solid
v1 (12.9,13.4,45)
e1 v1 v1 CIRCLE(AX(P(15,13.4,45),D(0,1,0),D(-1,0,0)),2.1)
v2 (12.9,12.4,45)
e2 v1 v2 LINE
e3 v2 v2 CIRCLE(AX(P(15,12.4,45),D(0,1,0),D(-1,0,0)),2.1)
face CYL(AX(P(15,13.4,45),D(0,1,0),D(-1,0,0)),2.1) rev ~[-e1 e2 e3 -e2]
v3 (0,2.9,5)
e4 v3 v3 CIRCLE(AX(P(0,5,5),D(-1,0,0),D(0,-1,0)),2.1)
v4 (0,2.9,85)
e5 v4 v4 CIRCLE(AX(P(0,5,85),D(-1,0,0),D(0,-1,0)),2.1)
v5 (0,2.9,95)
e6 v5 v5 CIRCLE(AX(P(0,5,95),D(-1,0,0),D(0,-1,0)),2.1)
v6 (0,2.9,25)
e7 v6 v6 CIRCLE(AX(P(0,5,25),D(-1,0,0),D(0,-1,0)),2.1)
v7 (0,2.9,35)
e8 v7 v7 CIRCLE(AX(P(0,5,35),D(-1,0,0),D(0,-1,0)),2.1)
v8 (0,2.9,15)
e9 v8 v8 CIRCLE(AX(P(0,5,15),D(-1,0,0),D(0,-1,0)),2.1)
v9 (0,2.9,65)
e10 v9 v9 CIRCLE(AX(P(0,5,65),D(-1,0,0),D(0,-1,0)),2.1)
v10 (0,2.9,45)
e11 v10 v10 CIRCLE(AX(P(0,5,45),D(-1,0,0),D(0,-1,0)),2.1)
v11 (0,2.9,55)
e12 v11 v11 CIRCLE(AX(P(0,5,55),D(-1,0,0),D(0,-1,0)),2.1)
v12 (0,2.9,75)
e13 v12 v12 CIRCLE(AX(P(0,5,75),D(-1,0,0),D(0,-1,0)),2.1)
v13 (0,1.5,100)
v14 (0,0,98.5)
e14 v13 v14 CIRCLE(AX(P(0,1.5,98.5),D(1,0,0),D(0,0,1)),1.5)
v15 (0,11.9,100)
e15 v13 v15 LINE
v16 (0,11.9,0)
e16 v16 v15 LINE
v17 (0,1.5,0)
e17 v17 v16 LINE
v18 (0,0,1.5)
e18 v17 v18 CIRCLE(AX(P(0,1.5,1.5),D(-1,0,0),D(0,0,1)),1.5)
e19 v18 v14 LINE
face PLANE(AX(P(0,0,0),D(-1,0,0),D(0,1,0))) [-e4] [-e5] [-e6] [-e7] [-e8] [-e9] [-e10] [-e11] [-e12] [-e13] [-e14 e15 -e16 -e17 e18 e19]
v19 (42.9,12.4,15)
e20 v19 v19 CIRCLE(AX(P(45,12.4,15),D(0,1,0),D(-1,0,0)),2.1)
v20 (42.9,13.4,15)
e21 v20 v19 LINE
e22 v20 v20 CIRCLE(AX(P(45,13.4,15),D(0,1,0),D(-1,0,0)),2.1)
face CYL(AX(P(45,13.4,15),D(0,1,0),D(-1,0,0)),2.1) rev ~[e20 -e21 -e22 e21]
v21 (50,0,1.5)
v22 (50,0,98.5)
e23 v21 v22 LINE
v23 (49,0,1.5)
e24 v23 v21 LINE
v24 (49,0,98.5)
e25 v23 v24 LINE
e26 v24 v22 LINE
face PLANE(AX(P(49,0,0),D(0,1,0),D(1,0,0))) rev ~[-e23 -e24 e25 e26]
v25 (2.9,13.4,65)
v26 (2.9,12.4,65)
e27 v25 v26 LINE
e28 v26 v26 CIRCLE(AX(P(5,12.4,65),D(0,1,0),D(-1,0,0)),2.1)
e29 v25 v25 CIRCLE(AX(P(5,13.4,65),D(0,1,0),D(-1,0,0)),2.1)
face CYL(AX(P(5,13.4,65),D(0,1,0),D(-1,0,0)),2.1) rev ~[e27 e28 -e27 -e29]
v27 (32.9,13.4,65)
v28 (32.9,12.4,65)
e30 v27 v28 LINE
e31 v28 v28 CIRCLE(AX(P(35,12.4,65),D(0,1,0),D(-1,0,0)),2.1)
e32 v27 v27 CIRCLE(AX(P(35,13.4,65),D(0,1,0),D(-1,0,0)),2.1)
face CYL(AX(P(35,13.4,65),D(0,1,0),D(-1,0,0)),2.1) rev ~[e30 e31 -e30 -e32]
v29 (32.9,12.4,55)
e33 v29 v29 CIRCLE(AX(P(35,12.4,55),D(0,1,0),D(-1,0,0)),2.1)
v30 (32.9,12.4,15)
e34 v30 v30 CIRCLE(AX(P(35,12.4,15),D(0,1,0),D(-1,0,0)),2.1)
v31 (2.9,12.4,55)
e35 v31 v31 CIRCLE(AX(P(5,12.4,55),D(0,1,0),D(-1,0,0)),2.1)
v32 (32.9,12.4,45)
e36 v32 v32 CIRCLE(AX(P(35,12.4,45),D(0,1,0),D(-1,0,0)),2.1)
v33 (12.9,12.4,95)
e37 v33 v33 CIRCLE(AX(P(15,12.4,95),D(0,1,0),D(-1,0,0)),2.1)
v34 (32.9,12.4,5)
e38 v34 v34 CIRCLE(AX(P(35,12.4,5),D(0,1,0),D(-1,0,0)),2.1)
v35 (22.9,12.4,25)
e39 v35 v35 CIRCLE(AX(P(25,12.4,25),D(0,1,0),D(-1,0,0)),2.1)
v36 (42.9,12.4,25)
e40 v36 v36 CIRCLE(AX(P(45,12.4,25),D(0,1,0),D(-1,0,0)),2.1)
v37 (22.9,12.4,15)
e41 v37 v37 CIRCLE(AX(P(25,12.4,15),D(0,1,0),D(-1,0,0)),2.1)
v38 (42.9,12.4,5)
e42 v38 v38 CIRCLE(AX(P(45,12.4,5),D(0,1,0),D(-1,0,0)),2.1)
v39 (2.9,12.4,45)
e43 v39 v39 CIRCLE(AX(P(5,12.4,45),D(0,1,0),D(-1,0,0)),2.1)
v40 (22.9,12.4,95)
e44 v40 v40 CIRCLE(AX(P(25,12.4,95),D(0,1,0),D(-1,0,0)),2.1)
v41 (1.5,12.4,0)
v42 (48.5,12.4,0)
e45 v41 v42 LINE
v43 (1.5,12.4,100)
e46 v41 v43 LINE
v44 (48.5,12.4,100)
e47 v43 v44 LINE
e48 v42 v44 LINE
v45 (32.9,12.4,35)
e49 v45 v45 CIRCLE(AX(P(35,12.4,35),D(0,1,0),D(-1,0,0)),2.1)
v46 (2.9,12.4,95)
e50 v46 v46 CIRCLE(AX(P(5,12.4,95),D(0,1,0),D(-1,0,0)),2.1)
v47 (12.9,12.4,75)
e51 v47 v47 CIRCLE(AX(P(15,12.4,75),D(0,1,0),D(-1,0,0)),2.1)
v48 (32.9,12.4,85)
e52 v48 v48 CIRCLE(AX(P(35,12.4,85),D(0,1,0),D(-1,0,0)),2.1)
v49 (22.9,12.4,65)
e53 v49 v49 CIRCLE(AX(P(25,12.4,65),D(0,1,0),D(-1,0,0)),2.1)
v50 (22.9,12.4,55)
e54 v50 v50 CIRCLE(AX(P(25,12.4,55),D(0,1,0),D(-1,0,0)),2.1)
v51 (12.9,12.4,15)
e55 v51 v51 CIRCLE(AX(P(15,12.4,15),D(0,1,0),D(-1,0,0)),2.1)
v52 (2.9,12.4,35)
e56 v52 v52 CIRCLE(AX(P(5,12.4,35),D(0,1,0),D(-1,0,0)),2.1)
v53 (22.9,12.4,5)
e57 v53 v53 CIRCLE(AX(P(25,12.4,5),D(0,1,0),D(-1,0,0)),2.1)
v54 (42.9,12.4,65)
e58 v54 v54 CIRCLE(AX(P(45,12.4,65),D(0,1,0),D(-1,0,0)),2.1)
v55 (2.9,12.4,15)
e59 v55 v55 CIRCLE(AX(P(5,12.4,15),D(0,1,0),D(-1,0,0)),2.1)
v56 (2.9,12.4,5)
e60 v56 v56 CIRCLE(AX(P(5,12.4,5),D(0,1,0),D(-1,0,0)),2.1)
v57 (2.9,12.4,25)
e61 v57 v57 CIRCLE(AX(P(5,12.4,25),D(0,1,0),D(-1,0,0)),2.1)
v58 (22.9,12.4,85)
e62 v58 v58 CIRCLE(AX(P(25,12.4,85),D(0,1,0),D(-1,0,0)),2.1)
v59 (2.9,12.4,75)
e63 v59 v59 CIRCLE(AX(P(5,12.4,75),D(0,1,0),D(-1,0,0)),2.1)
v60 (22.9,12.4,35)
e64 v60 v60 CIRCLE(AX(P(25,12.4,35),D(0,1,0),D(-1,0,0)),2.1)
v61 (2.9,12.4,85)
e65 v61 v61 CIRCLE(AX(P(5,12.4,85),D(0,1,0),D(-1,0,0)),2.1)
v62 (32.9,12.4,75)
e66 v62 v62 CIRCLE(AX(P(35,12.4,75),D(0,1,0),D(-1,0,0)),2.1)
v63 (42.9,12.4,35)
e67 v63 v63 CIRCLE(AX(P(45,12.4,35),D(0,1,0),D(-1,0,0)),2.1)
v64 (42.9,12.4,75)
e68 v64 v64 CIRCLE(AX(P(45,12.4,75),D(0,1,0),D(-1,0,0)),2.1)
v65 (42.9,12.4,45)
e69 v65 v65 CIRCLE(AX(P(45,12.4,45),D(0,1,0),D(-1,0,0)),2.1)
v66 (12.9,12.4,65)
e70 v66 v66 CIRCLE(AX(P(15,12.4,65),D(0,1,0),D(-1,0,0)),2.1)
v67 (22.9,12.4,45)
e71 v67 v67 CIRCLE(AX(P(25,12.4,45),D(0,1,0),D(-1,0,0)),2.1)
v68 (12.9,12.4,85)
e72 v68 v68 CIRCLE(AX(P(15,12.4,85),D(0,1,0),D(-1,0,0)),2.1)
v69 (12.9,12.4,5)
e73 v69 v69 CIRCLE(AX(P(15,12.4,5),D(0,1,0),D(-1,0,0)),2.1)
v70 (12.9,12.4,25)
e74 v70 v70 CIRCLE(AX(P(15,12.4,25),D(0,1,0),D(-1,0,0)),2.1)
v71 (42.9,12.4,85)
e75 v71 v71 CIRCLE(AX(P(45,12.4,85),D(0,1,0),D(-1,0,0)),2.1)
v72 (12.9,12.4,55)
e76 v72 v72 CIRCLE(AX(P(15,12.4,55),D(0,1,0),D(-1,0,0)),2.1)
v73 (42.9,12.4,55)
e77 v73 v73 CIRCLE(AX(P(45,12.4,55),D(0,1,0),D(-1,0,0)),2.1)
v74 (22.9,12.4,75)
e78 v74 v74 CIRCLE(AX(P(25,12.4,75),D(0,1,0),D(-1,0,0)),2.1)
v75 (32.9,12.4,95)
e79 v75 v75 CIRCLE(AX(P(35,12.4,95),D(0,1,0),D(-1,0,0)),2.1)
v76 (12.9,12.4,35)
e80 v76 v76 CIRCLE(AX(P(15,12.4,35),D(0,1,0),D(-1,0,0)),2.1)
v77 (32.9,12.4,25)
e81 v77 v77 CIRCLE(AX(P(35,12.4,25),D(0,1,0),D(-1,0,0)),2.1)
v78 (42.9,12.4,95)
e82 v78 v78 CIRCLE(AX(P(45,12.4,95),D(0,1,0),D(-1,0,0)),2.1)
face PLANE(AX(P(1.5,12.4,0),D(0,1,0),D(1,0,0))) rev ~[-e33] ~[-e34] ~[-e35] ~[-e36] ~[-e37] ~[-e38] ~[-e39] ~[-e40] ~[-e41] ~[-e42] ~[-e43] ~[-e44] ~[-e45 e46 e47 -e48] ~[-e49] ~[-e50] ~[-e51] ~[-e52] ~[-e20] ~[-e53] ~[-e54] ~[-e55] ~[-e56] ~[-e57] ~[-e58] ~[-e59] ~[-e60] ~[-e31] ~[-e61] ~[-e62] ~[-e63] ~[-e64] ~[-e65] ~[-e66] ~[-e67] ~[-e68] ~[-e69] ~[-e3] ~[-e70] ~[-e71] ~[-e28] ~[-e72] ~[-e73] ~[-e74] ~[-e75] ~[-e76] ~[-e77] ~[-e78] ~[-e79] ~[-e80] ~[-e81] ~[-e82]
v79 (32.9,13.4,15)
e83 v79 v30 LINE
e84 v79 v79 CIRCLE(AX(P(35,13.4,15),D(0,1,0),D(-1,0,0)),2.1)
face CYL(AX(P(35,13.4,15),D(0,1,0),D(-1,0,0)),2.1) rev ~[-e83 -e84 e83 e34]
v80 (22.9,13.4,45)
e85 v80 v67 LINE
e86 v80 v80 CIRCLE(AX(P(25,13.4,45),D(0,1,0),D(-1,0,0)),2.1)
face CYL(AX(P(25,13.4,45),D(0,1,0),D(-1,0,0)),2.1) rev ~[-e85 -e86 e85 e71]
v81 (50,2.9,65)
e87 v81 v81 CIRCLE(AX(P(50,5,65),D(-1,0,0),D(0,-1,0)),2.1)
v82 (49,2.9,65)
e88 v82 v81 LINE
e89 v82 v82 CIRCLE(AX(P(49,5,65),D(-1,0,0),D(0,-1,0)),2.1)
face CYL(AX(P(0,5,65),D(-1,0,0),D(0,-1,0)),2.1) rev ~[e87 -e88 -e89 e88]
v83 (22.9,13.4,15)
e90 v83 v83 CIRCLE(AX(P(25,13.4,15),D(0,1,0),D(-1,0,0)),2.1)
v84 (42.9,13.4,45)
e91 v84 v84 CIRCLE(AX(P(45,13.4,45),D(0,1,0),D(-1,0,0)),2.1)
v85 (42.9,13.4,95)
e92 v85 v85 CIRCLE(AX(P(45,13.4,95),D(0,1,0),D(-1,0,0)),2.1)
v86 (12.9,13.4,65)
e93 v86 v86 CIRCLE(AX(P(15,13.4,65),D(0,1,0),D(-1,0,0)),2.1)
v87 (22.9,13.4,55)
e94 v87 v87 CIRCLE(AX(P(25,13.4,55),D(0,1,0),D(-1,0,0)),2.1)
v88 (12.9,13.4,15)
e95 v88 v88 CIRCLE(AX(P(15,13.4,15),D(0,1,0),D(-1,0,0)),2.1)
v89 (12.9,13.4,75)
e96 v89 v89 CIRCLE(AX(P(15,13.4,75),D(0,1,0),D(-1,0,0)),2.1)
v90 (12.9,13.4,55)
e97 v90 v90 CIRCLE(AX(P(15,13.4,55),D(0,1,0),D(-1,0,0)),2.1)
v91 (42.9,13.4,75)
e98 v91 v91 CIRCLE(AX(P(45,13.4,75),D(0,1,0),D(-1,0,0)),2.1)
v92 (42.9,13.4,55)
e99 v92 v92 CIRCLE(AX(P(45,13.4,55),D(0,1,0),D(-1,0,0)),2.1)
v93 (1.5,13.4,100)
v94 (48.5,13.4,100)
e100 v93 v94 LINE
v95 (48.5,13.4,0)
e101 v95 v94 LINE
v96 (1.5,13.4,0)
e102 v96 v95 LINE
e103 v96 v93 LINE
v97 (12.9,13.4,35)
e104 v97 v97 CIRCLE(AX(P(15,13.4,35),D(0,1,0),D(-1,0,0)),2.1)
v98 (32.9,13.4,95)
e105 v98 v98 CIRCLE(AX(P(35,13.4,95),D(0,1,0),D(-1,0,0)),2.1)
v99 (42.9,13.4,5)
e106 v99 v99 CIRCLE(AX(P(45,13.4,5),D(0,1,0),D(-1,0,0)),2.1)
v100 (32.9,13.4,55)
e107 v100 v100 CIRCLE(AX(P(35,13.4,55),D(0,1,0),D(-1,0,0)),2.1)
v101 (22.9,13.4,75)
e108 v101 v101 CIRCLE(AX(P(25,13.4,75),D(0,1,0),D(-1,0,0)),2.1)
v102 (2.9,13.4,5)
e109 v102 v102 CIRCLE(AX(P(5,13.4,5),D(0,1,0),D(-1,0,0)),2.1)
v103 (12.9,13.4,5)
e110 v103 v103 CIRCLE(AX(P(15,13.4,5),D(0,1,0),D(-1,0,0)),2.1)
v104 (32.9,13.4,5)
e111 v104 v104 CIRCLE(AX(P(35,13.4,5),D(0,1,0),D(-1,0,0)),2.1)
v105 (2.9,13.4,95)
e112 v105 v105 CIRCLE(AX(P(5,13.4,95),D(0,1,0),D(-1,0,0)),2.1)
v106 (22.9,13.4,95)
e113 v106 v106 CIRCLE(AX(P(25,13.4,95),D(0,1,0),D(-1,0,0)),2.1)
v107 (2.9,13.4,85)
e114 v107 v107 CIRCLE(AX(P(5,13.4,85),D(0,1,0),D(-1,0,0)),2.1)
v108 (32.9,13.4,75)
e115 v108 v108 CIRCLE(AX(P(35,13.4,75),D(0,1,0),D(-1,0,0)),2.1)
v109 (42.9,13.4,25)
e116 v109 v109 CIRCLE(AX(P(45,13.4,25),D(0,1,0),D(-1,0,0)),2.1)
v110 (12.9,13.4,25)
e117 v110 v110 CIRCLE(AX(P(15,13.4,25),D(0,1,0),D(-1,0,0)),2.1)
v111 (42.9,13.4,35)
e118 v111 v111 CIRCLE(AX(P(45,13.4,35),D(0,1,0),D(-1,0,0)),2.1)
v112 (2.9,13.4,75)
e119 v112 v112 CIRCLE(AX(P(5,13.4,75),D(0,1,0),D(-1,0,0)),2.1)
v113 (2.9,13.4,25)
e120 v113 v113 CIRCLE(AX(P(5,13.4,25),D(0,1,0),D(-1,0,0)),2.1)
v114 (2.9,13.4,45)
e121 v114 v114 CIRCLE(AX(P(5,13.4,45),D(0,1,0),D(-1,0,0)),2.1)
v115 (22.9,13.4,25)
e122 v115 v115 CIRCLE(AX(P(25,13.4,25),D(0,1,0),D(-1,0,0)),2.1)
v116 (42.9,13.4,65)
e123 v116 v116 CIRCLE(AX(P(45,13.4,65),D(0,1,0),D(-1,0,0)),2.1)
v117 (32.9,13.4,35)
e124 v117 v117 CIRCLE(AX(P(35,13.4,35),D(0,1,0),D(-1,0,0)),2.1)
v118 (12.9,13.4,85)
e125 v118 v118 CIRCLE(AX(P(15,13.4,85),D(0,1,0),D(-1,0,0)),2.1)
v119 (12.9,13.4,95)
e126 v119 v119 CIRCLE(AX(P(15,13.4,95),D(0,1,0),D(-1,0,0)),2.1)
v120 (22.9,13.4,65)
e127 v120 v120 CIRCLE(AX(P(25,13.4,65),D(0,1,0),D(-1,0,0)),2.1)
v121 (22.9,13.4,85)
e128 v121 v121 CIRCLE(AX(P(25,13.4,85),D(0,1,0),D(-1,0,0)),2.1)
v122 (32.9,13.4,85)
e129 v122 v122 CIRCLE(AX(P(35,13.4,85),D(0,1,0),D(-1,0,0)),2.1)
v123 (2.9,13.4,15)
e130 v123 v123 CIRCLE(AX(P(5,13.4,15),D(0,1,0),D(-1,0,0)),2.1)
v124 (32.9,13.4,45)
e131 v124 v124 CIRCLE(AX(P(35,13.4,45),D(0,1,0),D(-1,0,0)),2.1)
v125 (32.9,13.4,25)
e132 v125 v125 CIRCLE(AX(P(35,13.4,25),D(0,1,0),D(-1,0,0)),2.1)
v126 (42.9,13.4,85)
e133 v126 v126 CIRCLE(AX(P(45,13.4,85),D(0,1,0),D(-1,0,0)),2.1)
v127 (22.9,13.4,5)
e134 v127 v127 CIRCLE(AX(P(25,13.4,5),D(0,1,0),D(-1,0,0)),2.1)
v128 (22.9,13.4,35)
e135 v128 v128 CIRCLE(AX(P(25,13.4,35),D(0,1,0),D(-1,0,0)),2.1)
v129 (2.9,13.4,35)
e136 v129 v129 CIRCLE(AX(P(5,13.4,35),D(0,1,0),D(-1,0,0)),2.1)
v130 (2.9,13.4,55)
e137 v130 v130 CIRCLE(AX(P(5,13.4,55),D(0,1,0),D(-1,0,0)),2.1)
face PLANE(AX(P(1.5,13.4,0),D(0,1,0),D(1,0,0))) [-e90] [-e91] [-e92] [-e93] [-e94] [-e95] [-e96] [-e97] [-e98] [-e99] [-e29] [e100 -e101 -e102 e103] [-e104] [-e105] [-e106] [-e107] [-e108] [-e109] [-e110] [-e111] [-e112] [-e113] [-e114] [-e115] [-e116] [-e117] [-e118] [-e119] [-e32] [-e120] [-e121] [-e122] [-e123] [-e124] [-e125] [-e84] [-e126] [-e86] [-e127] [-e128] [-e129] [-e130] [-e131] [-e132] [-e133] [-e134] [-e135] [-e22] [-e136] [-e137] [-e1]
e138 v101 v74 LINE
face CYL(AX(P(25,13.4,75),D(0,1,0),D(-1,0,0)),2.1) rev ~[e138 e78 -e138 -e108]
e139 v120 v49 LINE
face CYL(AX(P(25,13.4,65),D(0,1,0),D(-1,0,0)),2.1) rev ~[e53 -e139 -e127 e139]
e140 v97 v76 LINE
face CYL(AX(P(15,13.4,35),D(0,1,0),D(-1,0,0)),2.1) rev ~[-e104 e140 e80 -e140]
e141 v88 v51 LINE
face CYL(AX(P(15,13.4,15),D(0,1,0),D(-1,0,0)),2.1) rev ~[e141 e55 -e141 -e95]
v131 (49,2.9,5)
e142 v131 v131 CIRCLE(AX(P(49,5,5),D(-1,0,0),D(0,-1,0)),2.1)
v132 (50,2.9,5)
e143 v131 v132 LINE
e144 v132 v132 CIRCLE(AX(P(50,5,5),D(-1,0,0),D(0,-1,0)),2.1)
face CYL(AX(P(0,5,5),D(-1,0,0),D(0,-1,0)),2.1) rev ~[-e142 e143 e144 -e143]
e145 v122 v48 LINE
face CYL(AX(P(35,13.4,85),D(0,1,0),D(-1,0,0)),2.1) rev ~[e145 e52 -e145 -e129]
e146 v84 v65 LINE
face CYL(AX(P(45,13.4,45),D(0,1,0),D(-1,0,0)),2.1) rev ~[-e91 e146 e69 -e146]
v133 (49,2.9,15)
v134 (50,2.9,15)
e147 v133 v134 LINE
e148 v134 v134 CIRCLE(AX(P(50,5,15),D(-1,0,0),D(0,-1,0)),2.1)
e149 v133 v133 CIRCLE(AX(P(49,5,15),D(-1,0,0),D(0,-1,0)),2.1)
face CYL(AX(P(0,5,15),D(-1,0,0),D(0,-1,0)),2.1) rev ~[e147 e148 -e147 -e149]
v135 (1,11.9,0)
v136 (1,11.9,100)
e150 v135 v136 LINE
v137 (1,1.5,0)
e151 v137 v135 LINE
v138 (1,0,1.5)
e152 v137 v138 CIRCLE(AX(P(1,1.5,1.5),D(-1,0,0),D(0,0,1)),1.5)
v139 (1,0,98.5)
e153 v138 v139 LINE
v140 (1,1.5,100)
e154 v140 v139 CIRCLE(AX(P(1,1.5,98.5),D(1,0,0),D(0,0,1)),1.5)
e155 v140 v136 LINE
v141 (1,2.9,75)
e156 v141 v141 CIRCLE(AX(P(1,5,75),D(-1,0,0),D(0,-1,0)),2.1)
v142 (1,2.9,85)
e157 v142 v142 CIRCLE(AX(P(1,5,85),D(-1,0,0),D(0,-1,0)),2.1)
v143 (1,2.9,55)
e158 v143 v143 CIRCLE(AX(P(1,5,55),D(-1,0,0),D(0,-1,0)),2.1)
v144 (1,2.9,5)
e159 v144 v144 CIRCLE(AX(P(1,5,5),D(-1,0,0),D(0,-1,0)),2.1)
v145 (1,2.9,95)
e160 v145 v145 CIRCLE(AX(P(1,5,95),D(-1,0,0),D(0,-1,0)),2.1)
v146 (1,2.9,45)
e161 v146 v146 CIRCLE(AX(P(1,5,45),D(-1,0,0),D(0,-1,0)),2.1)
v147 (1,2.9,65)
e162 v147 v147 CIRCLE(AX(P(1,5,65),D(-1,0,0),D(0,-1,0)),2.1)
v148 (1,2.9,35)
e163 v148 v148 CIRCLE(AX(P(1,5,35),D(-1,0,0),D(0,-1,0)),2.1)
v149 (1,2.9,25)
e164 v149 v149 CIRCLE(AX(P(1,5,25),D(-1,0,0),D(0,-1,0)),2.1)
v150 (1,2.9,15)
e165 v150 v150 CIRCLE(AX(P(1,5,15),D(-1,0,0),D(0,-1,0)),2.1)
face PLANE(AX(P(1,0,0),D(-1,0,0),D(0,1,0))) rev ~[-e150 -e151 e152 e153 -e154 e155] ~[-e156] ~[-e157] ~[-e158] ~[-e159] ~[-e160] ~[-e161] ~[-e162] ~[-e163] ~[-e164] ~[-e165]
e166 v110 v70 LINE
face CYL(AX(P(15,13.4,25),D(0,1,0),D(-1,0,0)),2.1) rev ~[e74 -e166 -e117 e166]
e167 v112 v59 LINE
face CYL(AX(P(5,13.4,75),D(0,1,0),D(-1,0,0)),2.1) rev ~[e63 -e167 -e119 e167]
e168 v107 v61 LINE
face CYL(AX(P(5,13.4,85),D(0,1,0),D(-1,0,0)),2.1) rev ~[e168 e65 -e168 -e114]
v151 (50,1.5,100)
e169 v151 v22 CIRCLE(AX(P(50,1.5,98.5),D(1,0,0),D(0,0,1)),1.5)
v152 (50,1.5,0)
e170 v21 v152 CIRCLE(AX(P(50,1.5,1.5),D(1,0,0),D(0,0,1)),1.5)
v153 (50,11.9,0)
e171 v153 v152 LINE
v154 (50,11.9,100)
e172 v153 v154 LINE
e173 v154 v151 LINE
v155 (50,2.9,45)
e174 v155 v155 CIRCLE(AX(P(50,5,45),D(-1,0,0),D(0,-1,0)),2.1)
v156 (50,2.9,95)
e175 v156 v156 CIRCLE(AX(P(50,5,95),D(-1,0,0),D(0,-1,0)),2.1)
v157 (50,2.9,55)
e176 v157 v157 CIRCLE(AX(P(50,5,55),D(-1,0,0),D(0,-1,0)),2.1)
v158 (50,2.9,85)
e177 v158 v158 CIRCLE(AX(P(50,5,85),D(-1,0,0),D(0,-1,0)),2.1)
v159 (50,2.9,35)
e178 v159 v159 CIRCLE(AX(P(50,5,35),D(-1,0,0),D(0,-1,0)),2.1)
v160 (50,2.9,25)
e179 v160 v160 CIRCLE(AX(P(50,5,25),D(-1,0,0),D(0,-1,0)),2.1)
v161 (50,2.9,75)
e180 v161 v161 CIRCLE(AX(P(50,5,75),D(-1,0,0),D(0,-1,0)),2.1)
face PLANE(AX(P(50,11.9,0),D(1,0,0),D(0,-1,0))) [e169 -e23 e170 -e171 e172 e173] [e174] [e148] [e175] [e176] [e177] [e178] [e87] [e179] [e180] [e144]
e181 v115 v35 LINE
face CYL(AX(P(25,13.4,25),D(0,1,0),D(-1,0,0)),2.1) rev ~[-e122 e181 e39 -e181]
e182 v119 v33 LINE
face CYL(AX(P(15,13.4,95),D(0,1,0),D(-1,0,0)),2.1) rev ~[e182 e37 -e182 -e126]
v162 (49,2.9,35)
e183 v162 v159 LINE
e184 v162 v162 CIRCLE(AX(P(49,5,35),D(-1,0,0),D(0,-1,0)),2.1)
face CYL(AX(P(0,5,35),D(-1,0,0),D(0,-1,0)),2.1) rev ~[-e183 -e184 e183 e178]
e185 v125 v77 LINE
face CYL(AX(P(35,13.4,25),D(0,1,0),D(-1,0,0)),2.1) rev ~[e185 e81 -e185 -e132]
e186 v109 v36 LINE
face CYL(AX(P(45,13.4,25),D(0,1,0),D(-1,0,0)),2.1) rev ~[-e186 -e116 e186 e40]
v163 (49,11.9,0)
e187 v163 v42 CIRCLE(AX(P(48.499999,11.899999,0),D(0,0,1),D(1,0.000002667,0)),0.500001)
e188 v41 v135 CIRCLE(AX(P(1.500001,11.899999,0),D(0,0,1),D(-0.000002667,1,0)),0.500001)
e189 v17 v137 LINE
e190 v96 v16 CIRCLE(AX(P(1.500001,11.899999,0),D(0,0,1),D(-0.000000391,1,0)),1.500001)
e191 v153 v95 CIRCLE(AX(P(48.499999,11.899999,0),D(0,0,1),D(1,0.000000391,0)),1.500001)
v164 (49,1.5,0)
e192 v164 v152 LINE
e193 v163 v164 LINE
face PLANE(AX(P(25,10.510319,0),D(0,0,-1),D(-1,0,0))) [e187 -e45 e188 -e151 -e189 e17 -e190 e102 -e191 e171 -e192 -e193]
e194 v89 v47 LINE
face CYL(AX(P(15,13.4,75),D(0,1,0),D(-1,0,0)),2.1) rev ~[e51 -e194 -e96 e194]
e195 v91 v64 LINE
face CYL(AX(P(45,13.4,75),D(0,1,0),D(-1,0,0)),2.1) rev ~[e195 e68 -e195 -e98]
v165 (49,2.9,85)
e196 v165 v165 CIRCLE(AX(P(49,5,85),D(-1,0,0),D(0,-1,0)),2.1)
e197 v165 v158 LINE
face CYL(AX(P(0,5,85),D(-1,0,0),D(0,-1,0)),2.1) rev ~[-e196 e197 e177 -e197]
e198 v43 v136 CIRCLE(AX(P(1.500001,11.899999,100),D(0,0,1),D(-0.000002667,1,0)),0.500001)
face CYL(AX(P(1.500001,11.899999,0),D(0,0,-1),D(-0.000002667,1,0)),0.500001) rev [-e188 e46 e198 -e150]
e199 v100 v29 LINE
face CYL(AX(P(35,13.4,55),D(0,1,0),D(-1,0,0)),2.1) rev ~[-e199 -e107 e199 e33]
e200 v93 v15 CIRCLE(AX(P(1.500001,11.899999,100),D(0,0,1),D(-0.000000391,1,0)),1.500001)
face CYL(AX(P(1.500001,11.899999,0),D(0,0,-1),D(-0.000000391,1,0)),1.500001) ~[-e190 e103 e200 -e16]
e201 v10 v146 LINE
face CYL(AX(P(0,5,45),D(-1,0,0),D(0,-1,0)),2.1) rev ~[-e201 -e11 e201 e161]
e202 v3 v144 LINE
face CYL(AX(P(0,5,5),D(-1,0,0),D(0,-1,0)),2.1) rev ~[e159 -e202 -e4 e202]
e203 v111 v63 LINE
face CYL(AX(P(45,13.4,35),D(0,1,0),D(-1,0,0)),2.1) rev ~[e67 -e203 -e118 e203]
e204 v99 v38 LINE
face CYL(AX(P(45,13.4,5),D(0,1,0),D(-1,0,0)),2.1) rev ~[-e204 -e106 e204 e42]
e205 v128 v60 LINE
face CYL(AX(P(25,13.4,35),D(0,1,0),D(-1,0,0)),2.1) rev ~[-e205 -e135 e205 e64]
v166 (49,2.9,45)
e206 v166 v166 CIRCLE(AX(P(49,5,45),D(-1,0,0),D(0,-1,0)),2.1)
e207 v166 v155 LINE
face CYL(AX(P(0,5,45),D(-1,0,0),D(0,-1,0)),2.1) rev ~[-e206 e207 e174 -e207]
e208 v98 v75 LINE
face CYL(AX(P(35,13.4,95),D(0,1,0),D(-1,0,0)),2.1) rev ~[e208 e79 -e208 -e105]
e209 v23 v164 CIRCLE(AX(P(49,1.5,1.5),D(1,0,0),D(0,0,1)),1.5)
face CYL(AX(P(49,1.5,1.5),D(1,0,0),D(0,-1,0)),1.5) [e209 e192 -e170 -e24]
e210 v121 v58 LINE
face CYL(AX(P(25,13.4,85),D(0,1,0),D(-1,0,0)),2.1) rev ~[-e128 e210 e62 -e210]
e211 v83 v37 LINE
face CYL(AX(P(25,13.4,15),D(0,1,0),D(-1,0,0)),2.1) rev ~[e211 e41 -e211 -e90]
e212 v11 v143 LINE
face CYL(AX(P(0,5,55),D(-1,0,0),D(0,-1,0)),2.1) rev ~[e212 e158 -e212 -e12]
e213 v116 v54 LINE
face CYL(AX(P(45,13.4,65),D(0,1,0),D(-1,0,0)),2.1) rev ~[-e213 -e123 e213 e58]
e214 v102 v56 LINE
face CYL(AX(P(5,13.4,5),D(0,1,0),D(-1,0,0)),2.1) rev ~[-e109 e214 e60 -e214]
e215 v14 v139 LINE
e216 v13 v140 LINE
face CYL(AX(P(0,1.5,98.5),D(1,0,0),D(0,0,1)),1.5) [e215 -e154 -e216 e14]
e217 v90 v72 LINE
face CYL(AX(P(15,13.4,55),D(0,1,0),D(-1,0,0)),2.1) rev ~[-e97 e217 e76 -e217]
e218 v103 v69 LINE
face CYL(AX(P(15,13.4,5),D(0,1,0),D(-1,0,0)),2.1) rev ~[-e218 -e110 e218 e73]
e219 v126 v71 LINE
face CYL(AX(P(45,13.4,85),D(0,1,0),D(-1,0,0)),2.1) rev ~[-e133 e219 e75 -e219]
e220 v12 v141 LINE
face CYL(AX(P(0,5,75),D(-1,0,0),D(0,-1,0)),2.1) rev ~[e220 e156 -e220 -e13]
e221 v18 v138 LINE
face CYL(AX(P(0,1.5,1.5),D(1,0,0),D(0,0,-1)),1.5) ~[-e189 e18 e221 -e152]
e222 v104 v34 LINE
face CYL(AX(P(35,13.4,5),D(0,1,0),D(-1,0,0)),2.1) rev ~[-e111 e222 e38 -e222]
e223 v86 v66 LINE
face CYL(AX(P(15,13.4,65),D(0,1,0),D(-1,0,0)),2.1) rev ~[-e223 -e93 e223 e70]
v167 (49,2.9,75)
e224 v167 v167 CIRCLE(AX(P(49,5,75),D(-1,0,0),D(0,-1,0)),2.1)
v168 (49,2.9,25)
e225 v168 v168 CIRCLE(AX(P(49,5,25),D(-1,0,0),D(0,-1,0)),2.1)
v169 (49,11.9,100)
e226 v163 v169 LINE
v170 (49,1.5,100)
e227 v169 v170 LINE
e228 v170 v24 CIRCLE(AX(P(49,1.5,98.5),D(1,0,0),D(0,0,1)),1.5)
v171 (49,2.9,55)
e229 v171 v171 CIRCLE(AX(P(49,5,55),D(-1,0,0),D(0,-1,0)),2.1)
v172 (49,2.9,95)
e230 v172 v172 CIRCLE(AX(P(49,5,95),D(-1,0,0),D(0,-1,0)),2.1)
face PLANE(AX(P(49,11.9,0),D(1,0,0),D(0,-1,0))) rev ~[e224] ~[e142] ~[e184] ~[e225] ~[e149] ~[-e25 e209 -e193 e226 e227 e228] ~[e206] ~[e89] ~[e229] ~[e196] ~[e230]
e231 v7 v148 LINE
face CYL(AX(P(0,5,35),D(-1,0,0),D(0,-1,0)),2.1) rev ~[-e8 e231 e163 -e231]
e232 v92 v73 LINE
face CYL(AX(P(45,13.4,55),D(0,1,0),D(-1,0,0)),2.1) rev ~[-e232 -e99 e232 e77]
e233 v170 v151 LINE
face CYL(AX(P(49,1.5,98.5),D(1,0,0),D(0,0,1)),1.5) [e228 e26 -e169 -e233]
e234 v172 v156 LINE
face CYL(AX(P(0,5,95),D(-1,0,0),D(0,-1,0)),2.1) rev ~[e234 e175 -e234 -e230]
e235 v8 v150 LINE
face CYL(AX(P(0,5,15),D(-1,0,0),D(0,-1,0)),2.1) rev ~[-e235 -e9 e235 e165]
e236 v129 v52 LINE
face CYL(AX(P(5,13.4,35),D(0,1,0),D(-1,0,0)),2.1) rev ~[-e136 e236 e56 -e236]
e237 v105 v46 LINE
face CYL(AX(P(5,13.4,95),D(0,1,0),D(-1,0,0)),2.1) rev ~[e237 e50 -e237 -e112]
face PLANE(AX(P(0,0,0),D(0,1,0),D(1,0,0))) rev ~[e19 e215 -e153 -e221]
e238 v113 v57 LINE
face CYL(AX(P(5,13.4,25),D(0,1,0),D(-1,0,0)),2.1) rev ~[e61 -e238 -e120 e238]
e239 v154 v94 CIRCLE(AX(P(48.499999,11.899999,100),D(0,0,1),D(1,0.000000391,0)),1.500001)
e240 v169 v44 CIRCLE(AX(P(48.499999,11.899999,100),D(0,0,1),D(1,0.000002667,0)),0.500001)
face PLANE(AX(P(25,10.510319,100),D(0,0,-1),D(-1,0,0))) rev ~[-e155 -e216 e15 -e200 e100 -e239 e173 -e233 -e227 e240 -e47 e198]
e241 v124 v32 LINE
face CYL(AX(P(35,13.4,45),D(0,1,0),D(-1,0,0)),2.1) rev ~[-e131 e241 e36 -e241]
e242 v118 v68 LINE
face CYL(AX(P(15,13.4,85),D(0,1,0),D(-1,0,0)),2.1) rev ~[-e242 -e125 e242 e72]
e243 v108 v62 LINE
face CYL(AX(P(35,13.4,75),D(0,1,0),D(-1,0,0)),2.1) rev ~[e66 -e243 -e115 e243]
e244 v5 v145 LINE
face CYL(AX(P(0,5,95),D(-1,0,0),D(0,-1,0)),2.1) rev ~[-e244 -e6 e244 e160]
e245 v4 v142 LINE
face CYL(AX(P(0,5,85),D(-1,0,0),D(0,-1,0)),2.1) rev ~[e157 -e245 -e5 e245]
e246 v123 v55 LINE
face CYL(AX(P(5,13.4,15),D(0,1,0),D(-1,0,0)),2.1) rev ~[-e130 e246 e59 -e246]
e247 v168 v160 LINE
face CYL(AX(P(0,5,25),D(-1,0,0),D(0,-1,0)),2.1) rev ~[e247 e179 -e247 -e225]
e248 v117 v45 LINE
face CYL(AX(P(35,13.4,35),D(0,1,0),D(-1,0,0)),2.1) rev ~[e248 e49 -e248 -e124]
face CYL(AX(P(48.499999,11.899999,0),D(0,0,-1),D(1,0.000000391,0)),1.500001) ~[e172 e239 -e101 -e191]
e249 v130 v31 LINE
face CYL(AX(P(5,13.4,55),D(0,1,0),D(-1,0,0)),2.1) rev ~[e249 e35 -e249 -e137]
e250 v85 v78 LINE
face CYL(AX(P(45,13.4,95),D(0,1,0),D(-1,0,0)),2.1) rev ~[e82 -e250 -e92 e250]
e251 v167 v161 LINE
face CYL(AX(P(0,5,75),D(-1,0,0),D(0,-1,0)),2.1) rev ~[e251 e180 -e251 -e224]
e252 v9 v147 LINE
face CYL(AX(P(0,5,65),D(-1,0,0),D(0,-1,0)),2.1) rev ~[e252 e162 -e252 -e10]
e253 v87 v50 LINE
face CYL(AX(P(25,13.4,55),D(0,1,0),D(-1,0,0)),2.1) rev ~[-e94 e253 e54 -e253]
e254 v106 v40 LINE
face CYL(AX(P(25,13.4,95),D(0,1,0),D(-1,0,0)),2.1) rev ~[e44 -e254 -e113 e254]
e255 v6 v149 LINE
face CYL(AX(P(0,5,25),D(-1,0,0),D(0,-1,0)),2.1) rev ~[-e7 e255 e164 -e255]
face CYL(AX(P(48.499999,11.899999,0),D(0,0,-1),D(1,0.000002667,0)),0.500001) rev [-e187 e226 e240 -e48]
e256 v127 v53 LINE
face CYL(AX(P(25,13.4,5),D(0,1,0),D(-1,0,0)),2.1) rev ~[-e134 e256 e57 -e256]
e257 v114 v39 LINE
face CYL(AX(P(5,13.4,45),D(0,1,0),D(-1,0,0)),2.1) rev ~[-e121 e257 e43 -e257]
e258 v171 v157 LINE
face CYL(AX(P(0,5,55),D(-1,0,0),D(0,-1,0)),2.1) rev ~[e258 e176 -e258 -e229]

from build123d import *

# Parameters (mm, degrees)
PAD_DEPTH       = 100
FILLET_R        = 1.5
FILLET001_R     = 1.5
FILLET002_R     = 1.5
FILLET003_R     = 1.5
SKETCH001_R     = 2.1
POCKET_DEPTH    = 50.001
SKETCH002_R     = 2.1
POCKET001_DEPTH = 13.401


with BuildPart() as part:
    # Sketch → Pad (new body)
    with BuildSketch(Plane.XY):
        with BuildLine():
            Line((0, 0), (0, 11.9))
            ThreePointArc((1.5, 13.4), (0.43934, 12.96066), (0, 11.9))
            Line((1.5, 13.4), (48.5, 13.4))
            ThreePointArc((50, 11.9), (49.56066, 12.96066), (48.5, 13.4))
            Line((50, 11.9), (50, 0))
            Line((49, 0), (50, 0))
            Line((49, 11.9), (49, 0))
            ThreePointArc((49, 11.9), (48.853553, 12.253553), (48.5, 12.4))
            Line((1.5, 12.4), (48.5, 12.4))
            ThreePointArc((1.5, 12.4), (1.146447, 12.253553), (1, 11.9))
            Line((1, 0), (1, 11.9))
            Line((0, 0), (1, 0))
        make_face()
    extrude(amount=PAD_DEPTH)

    # Fillet
    fillet_edges = [part.edges().sort_by_distance(p)[0] for p in [
        (49.5, 0, 0),
    ]]
    fillet(fillet_edges, radius=FILLET_R)

    # Fillet001
    fillet001_edges = [part.edges().sort_by_distance(p)[0] for p in [
        (0.5, 0, 0),
    ]]
    fillet(fillet001_edges, radius=FILLET001_R)

    # Fillet002
    fillet002_edges = [part.edges().sort_by_distance(p)[0] for p in [
        (49.5, 0, 100),
    ]]
    fillet(fillet002_edges, radius=FILLET002_R)

    # Fillet003
    fillet003_edges = [part.edges().sort_by_distance(p)[0] for p in [
        (0.5, 0, 100),
    ]]
    fillet(fillet003_edges, radius=FILLET003_R)

    # Sketch001 → Pocket (cut, through all)
    with BuildSketch(Plane(origin=(0, 0, 0), x_dir=(0, -1, 0), z_dir=(-1, 0, 0))):
        with Locations((-5, 5)):
            Circle(SKETCH001_R)
        with Locations((-5, 15)):
            Circle(SKETCH001_R)
        with Locations((-5, 25)):
            Circle(SKETCH001_R)
        with Locations((-5, 35)):
            Circle(SKETCH001_R)
        with Locations((-5, 45)):
            Circle(SKETCH001_R)
        with Locations((-5, 55)):
            Circle(SKETCH001_R)
        with Locations((-5, 65)):
            Circle(SKETCH001_R)
        with Locations((-5, 75)):
            Circle(SKETCH001_R)
        with Locations((-5, 85)):
            Circle(SKETCH001_R)
        with Locations((-5, 95)):
            Circle(SKETCH001_R)
    extrude(amount=-POCKET_DEPTH, mode=Mode.SUBTRACT)

    # Sketch002 → Pocket001 (cut, through all)
    with BuildSketch(Plane(origin=(0, 13.4, 0), x_dir=(-1, 0, 0), z_dir=(0, 1, 0))):
        with Locations((-5, 5)):
            Circle(SKETCH002_R)
        with Locations((-15, 5)):
            Circle(SKETCH002_R)
        with Locations((-25, 5)):
            Circle(SKETCH002_R)
        with Locations((-35, 5)):
            Circle(SKETCH002_R)
        with Locations((-45, 5)):
            Circle(SKETCH002_R)
        with Locations((-45, 15)):
            Circle(SKETCH002_R)
        with Locations((-45, 25)):
            Circle(SKETCH002_R)
        with Locations((-45, 35)):
            Circle(SKETCH002_R)
        with Locations((-45, 45)):
            Circle(SKETCH002_R)
        with Locations((-45, 55)):
            Circle(SKETCH002_R)
        with Locations((-45, 65)):
            Circle(SKETCH002_R)
        with Locations((-45, 75)):
            Circle(SKETCH002_R)
        with Locations((-45, 85)):
            Circle(SKETCH002_R)
        with Locations((-45, 95)):
            Circle(SKETCH002_R)
        with Locations((-35, 15)):
            Circle(SKETCH002_R)
        with Locations((-35, 25)):
            Circle(SKETCH002_R)
        with Locations((-35, 35)):
            Circle(SKETCH002_R)
        with Locations((-35, 45)):
            Circle(SKETCH002_R)
        with Locations((-35, 55)):
            Circle(SKETCH002_R)
        with Locations((-35, 65)):
            Circle(SKETCH002_R)
        with Locations((-35, 75)):
            Circle(SKETCH002_R)
        with Locations((-35, 85)):
            Circle(SKETCH002_R)
        with Locations((-35, 95)):
            Circle(SKETCH002_R)
        with Locations((-25, 15)):
            Circle(SKETCH002_R)
        with Locations((-25, 25)):
            Circle(SKETCH002_R)
        with Locations((-25, 35)):
            Circle(SKETCH002_R)
        with Locations((-25, 45)):
            Circle(SKETCH002_R)
        with Locations((-25, 55)):
            Circle(SKETCH002_R)
        with Locations((-25, 65)):
            Circle(SKETCH002_R)
        with Locations((-25, 75)):
            Circle(SKETCH002_R)
        with Locations((-25, 85)):
            Circle(SKETCH002_R)
        with Locations((-25, 95)):
            Circle(SKETCH002_R)
        with Locations((-15, 15)):
            Circle(SKETCH002_R)
        with Locations((-15, 25)):
            Circle(SKETCH002_R)
        with Locations((-15, 35)):
            Circle(SKETCH002_R)
        with Locations((-15, 45)):
            Circle(SKETCH002_R)
        with Locations((-15, 55)):
            Circle(SKETCH002_R)
        with Locations((-15, 65)):
            Circle(SKETCH002_R)
        with Locations((-15, 75)):
            Circle(SKETCH002_R)
        with Locations((-15, 85)):
            Circle(SKETCH002_R)
        with Locations((-15, 95)):
            Circle(SKETCH002_R)
        with Locations((-5, 15)):
            Circle(SKETCH002_R)
        with Locations((-5, 25)):
            Circle(SKETCH002_R)
        with Locations((-5, 35)):
            Circle(SKETCH002_R)
        with Locations((-5, 45)):
            Circle(SKETCH002_R)
        with Locations((-5, 55)):
            Circle(SKETCH002_R)
        with Locations((-5, 65)):
            Circle(SKETCH002_R)
        with Locations((-5, 75)):
            Circle(SKETCH002_R)
        with Locations((-5, 85)):
            Circle(SKETCH002_R)
        with Locations((-5, 95)):
            Circle(SKETCH002_R)
    extrude(amount=-POCKET001_DEPTH, mode=Mode.SUBTRACT)


solid = part.part
